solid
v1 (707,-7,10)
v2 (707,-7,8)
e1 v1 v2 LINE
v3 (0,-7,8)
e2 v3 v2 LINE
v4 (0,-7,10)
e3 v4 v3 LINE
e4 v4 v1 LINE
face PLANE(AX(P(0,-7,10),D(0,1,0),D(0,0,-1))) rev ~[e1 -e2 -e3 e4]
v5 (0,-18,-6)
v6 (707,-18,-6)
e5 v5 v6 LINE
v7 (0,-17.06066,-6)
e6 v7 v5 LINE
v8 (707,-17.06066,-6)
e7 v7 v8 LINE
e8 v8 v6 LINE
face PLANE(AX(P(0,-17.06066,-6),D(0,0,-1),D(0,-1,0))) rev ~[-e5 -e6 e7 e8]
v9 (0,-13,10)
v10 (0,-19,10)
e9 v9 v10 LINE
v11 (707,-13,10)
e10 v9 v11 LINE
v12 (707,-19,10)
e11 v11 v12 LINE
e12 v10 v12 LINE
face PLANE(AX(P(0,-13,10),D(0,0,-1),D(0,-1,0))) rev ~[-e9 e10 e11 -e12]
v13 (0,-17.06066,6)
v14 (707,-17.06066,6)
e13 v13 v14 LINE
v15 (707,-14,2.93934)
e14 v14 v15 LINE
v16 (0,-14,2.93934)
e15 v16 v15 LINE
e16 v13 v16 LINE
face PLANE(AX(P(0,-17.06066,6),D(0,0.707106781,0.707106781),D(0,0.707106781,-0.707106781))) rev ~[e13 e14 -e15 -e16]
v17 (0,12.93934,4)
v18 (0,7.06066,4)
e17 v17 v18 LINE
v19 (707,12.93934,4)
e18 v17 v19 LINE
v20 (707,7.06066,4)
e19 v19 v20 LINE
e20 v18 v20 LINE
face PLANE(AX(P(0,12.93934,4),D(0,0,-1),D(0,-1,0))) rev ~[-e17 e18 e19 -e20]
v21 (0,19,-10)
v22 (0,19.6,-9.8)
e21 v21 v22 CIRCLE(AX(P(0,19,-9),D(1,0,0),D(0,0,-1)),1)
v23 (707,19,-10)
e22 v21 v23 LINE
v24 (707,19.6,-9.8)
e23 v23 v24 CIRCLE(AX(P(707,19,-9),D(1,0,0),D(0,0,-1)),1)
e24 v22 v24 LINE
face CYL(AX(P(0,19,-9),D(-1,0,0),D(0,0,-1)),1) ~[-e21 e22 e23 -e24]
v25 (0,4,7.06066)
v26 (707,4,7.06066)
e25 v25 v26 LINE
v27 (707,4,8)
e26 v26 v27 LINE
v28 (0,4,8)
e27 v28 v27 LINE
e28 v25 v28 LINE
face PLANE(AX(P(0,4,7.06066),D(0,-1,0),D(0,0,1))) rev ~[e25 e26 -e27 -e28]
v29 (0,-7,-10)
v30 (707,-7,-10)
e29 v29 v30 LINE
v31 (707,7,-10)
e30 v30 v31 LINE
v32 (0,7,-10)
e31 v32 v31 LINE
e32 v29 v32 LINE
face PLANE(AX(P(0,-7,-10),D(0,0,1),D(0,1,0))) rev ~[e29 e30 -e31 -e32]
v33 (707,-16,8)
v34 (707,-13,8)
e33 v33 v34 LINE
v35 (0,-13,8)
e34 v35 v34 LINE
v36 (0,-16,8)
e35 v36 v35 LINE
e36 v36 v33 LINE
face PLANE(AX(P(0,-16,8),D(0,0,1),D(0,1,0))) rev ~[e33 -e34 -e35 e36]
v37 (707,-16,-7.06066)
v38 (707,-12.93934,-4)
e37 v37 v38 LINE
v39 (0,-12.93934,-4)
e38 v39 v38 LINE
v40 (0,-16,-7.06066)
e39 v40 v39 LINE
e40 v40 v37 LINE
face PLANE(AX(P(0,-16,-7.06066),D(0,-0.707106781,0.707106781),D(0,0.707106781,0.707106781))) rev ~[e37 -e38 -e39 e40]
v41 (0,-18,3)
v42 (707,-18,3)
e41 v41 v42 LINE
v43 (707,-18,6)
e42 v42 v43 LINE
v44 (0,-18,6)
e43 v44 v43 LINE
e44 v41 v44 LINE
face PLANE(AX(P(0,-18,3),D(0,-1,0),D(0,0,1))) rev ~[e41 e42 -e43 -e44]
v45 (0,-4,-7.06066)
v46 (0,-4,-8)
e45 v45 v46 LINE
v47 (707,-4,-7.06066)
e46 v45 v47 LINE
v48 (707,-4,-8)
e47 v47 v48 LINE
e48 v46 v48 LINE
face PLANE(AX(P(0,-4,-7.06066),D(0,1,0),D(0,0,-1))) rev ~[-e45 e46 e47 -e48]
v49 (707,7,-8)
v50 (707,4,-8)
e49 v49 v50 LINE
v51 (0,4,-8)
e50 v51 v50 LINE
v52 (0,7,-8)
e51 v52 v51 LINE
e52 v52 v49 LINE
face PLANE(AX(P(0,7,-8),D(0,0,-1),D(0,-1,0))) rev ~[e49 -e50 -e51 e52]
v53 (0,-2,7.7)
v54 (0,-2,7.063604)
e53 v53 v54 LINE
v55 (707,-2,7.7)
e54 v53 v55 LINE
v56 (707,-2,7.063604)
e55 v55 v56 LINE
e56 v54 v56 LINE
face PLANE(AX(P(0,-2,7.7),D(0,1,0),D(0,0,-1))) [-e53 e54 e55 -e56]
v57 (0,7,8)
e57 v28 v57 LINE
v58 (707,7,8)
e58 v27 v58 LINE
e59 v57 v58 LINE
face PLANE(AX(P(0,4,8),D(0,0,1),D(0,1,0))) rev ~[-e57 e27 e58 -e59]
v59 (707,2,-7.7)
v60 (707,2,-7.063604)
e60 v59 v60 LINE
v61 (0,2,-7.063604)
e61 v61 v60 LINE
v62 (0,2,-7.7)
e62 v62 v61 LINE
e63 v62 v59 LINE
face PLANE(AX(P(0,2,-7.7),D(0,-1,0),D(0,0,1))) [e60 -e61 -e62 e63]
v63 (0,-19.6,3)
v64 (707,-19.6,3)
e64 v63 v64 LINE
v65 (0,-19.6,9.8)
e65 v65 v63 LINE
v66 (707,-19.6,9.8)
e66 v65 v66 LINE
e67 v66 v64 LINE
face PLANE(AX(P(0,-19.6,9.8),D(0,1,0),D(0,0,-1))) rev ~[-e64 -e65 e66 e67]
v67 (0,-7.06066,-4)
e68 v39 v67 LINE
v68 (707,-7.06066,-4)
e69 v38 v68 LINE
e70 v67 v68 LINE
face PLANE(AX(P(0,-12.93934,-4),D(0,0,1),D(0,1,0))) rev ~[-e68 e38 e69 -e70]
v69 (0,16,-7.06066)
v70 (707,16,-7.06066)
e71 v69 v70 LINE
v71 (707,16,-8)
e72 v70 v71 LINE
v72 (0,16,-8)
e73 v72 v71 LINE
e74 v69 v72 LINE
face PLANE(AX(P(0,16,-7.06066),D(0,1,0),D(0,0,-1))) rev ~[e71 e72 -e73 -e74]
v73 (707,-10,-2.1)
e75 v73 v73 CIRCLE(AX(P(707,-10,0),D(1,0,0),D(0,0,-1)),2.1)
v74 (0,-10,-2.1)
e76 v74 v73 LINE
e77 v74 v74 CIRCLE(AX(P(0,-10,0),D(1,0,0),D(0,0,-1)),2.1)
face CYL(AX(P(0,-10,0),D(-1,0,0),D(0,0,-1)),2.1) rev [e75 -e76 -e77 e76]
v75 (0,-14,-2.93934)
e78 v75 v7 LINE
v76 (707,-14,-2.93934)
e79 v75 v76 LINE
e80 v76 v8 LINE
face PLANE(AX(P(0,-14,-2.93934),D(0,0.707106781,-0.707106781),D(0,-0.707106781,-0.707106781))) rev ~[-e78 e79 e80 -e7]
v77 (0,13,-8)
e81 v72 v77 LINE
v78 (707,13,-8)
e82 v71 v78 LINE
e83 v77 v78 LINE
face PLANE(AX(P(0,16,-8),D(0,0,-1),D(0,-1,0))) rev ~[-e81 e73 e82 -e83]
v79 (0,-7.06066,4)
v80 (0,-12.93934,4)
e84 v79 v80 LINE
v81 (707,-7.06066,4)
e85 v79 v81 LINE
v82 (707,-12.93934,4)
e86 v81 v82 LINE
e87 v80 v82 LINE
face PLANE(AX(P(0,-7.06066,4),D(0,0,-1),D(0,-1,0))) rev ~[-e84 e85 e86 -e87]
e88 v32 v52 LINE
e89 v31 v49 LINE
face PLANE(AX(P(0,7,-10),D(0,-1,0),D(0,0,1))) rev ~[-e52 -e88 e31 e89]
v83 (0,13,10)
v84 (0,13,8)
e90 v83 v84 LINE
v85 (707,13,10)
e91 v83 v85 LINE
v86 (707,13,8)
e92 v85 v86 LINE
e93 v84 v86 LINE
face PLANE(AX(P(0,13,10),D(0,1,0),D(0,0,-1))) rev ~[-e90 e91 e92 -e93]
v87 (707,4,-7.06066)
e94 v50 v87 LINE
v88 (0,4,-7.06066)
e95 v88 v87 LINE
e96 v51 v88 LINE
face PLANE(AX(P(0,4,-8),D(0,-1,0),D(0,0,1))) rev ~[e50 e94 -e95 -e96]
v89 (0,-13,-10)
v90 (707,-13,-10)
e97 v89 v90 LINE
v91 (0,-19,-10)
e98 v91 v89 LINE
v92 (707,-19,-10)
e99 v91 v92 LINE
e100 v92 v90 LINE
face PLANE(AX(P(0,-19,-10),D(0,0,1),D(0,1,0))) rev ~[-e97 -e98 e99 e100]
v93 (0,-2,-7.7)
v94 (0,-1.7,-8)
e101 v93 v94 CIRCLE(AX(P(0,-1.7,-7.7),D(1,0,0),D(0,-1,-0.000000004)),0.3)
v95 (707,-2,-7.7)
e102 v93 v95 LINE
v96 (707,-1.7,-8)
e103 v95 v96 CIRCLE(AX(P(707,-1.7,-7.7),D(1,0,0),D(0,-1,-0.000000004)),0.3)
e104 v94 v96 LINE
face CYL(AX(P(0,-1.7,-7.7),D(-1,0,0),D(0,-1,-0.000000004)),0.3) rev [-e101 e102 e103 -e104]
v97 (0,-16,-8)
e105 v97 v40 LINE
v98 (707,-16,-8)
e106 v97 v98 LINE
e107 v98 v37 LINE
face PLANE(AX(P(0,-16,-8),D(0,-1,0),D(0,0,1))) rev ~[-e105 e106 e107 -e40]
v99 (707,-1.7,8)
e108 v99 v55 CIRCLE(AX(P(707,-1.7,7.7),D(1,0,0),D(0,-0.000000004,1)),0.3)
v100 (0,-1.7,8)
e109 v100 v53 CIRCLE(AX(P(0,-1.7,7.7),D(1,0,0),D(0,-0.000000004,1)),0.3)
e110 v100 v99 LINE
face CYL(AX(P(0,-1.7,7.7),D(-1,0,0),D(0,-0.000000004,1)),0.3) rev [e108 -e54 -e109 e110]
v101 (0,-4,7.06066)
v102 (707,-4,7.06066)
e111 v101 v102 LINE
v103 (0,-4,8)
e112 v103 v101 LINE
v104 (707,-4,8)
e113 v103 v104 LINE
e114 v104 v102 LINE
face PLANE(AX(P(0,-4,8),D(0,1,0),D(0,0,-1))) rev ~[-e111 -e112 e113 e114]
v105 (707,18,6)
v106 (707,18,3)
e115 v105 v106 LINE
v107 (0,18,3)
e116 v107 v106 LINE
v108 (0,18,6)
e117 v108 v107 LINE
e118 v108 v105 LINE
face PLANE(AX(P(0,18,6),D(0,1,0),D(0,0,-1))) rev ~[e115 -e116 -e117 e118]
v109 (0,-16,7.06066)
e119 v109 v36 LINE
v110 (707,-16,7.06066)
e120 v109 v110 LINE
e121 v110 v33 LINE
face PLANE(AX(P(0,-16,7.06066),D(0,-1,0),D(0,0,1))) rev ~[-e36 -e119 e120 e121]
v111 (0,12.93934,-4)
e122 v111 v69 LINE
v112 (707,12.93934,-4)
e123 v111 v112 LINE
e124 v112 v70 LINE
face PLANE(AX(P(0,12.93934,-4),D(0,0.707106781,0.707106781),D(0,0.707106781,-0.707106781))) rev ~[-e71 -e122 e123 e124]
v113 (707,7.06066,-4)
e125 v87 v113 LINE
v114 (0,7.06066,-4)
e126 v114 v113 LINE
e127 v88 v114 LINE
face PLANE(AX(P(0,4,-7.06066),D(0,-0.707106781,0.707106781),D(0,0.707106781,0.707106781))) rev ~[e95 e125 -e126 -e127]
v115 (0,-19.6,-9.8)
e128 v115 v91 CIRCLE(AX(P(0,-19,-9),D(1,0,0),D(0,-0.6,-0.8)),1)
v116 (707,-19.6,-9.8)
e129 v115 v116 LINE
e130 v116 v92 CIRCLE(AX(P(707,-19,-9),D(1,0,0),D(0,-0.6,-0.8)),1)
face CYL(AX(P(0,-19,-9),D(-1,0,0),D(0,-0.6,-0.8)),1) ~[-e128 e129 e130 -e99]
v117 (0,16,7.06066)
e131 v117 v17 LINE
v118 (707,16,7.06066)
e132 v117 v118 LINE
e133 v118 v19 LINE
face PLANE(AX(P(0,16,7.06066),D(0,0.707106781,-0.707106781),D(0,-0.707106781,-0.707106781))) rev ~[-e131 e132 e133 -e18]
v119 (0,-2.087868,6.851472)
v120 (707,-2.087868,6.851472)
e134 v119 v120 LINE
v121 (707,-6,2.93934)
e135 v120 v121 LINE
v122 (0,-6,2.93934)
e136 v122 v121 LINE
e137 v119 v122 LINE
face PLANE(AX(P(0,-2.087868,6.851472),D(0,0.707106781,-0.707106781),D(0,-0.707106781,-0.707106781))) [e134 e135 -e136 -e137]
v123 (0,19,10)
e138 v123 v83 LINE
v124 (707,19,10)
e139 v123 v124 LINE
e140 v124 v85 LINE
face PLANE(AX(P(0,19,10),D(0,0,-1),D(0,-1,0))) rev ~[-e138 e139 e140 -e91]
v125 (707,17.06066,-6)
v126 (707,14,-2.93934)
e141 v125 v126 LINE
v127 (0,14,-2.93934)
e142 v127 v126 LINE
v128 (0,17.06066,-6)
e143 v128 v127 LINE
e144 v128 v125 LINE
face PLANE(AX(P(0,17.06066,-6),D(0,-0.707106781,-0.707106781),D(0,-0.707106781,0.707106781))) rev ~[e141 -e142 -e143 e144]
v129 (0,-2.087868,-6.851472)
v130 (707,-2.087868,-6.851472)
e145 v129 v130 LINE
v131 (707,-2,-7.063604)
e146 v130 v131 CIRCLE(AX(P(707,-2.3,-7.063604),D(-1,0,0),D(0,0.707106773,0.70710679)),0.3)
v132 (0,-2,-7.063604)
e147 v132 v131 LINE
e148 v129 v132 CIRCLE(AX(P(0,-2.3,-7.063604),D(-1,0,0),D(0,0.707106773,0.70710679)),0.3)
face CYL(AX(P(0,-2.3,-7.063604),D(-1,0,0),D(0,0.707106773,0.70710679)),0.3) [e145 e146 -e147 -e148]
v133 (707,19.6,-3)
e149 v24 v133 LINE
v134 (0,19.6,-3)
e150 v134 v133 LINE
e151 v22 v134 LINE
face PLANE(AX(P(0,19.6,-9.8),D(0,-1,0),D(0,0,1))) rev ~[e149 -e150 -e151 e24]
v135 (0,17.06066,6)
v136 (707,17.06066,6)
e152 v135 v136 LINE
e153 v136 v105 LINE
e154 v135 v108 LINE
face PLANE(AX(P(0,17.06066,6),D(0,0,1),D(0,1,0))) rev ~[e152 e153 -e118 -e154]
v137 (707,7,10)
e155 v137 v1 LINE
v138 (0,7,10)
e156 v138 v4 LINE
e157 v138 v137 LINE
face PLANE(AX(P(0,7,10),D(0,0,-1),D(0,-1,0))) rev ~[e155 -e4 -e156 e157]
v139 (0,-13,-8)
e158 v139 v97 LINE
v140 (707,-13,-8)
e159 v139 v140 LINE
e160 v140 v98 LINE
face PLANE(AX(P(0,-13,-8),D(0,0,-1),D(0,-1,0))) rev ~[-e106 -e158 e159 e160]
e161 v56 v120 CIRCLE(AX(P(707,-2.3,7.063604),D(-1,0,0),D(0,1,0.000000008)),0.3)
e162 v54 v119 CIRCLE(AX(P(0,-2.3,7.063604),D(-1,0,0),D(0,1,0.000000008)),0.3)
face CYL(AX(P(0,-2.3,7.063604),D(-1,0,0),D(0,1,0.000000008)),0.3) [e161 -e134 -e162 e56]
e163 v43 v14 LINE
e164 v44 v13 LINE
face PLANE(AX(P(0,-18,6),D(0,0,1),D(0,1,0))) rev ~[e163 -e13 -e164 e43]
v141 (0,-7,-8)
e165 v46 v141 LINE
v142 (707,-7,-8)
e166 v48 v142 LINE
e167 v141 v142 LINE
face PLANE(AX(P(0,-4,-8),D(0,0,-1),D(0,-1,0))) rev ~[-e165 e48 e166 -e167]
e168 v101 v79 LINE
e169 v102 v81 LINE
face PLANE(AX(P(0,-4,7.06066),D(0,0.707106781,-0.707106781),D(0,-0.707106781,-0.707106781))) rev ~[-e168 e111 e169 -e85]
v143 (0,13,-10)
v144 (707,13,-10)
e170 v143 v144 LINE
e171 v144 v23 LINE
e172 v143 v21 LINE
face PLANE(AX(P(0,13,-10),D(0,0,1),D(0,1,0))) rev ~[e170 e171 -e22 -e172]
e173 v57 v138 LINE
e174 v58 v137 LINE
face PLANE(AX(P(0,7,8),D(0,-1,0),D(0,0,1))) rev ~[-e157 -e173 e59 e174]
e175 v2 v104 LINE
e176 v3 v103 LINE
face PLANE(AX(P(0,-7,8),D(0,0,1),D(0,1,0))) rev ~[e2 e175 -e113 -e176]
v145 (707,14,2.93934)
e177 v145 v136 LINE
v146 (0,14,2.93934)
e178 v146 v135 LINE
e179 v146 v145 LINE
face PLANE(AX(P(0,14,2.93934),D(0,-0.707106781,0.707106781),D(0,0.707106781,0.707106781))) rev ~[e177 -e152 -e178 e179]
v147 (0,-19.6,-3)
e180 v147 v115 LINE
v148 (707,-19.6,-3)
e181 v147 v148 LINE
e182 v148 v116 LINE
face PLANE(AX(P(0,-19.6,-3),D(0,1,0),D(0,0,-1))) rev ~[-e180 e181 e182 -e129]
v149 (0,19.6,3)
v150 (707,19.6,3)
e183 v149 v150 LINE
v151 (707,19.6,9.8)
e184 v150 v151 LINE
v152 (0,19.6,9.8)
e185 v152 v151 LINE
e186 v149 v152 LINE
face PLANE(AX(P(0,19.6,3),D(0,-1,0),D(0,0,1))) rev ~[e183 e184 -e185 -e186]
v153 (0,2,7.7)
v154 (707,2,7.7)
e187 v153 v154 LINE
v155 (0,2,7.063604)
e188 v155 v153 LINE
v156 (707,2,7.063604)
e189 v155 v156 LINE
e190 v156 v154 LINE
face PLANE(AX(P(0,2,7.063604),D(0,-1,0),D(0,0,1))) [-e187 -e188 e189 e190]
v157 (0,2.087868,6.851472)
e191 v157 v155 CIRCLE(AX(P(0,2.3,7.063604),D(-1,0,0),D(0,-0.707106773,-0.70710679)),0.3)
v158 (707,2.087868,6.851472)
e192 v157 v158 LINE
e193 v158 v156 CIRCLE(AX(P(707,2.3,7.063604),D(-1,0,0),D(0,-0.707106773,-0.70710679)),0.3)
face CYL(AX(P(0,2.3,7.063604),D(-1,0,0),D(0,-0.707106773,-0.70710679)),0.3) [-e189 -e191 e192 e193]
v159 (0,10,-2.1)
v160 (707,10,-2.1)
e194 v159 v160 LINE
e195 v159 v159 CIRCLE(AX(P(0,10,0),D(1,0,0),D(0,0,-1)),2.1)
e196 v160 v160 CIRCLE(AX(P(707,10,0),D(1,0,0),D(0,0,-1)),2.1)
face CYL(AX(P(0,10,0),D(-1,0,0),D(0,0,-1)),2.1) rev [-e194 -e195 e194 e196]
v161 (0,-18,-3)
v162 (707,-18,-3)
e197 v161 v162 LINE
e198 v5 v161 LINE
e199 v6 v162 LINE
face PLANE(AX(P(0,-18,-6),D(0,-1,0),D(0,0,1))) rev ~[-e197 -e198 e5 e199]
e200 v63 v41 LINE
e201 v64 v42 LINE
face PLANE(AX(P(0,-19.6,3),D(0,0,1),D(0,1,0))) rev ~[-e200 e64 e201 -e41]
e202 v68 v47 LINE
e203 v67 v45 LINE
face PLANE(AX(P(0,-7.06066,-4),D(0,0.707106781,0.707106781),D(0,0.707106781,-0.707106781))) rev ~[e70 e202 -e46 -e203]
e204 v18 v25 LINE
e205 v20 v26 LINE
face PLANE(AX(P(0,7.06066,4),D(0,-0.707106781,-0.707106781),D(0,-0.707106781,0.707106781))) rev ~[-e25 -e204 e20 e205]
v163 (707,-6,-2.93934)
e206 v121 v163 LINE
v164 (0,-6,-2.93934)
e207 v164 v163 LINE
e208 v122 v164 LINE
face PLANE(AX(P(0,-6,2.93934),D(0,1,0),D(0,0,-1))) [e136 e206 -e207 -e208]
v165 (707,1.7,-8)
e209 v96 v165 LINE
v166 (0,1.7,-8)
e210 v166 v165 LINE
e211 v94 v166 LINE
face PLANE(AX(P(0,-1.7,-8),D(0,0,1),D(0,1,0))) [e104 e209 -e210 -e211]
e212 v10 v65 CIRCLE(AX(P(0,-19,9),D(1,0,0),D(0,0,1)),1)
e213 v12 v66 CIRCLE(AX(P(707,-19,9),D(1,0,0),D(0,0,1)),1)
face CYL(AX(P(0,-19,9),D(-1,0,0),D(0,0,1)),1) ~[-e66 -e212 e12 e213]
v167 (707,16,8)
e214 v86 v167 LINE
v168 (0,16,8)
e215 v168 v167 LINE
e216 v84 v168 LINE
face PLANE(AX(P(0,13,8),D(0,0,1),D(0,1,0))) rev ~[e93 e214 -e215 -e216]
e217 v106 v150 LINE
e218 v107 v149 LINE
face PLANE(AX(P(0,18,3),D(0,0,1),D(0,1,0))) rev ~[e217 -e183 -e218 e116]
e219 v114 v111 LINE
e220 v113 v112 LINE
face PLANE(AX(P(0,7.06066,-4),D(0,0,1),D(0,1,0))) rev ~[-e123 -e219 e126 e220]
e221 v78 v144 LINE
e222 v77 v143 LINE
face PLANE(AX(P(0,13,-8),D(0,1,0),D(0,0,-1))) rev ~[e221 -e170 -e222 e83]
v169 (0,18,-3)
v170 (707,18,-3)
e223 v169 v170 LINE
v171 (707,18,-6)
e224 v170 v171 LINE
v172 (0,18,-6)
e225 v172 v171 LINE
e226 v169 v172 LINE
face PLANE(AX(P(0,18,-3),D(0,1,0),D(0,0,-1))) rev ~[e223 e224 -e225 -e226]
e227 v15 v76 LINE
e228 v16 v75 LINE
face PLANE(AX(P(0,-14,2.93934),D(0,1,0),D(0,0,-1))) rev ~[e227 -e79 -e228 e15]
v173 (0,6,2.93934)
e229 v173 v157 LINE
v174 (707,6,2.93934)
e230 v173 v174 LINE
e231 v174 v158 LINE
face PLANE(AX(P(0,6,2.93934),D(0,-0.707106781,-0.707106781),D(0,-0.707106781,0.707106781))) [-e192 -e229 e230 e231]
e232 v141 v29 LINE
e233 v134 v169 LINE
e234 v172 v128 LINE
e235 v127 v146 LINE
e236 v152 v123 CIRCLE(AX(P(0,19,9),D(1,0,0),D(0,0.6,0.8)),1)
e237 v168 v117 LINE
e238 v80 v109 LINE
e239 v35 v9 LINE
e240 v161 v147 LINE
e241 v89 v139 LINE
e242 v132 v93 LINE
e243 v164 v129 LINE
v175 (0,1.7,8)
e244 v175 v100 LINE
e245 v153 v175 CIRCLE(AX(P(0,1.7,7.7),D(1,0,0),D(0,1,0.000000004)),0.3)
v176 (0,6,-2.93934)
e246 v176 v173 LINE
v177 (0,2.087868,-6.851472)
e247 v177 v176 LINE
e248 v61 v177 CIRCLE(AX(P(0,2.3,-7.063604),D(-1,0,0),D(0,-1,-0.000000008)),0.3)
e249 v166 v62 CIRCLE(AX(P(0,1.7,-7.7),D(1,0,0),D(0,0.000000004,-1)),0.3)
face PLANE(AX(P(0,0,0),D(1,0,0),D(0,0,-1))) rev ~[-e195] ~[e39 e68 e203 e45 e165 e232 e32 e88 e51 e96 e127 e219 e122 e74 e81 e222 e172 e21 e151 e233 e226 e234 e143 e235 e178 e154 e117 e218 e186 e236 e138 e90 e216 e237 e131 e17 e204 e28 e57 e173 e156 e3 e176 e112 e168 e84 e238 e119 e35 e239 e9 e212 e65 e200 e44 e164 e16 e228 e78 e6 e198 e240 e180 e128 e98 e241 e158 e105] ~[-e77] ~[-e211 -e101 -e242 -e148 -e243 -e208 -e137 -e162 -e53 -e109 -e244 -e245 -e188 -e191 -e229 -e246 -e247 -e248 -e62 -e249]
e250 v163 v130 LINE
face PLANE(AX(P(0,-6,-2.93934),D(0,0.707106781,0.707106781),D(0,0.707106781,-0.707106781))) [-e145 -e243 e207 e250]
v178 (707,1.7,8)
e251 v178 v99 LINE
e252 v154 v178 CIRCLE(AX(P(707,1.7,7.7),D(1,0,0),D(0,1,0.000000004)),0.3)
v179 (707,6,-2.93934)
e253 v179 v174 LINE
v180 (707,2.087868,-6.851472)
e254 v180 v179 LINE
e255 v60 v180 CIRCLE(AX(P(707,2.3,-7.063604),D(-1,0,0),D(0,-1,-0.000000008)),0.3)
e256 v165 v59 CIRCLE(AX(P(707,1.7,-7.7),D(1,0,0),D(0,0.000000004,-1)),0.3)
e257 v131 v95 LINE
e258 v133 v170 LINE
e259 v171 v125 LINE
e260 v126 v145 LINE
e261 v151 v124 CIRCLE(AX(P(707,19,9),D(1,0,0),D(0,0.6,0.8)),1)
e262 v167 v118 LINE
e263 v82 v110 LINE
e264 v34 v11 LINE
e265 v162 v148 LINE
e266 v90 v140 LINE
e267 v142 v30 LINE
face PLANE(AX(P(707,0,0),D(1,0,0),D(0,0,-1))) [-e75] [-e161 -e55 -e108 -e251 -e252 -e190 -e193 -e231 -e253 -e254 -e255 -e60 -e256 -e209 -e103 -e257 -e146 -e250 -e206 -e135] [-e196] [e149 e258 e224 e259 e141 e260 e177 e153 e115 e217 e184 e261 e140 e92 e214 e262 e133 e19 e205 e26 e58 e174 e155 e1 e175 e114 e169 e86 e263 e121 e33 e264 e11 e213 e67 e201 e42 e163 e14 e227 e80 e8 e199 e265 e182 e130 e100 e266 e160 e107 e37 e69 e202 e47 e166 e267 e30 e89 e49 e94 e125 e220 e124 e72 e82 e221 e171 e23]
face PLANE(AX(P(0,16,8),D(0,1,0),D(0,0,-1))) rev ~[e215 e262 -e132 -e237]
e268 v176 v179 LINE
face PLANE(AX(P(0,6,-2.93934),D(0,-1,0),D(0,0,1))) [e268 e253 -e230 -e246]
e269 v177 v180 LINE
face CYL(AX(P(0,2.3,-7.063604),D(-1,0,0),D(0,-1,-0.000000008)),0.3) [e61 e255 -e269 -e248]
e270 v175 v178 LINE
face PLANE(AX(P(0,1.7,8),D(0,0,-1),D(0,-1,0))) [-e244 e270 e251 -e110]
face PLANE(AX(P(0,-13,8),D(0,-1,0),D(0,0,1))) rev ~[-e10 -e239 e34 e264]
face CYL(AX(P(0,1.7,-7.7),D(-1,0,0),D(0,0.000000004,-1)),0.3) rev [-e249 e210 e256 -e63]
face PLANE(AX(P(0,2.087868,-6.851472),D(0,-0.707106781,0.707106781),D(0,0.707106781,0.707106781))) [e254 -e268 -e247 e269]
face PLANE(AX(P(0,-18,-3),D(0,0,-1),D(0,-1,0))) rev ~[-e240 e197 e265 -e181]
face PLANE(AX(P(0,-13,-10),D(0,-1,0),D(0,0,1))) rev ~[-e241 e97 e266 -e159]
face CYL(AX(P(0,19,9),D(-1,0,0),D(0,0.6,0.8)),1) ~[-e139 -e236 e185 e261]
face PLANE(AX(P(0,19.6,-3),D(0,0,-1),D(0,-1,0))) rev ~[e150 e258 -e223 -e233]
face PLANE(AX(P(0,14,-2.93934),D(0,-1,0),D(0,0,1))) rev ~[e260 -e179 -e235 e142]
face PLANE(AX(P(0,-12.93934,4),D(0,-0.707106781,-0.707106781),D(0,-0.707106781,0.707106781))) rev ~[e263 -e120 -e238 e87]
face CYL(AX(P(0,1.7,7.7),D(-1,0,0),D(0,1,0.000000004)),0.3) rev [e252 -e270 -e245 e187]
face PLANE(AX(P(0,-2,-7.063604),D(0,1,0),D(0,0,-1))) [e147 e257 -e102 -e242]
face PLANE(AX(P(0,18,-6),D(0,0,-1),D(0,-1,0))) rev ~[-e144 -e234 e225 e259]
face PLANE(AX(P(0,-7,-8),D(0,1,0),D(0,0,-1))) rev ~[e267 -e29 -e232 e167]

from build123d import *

# Parameters (mm, degrees)
SKETCH1_R           = 2.1
BOSS_EXTRUDE1_DEPTH = 707


with BuildPart() as part:
    # Sketch1 → Boss-Extrude1 (new body)
    with BuildSketch(Plane(origin=(0, 0, 0), x_dir=(0, 0, -1), z_dir=(1, 0, 0))):
        with BuildLine():
            Line((-10, 7), (-10, -7))
            Line((-10, -7), (-8, -7))
            Line((-8, -7), (-8, -4))
            Line((-8, -4), (-7.060660172, -4))
            Line((-7.060660172, -4), (-4, -7.060660172))
            Line((-4, -7.060660172), (-4, -12.939339828))
            Line((-4, -12.939339828), (-7.060660172, -16))
            Line((-7.060660172, -16), (-8, -16))
            Line((-8, -16), (-8, -13))
            Line((-8, -13), (-10, -13))
            Line((-10, -13), (-10, -19))
            ThreePointArc((-10, -19), (-9.948683298, -19.316227766), (-9.8, -19.6))
            Line((-9.8, -19.6), (-3, -19.6))
            Line((-3, -19.6), (-3, -18))
            Line((-3, -18), (-6, -18))
            Line((-6, -18), (-6, -17.060660172))
            Line((-6, -17.060660172), (-2.939339828, -14))
            Line((-2.939339828, -14), (2.939339828, -14))
            Line((2.939339828, -14), (6, -17.060660172))
            Line((6, -17.060660172), (6, -18))
            Line((6, -18), (3, -18))
            Line((3, -18), (3, -19.6))
            Line((3, -19.6), (9.8, -19.6))
            ThreePointArc((9.8, -19.6), (9.948683298, -19.316227766), (10, -19))
            Line((10, -19), (10, -13))
            Line((10, -13), (8, -13))
            Line((8, -13), (8, -16))
            Line((8, -16), (7.060660172, -16))
            Line((7.060660172, -16), (4, -12.939339828))
            Line((4, -12.939339828), (4, -7.060660172))
            Line((4, -7.060660172), (7.060660172, -4))
            Line((7.060660172, -4), (8, -4))
            Line((8, -4), (8, -7))
            Line((8, -7), (10, -7))
            Line((10, -7), (10, 7))
            Line((10, 7), (8, 7))
            Line((8, 7), (8, 4))
            Line((8, 4), (7.060660172, 4))
            Line((7.060660172, 4), (4, 7.060660172))
            Line((4, 7.060660172), (4, 12.939339828))
            Line((4, 12.939339828), (7.060660172, 16))
            Line((7.060660172, 16), (8, 16))
            Line((8, 16), (8, 13))
            Line((8, 13), (10, 13))
            Line((10, 13), (10, 19))
            ThreePointArc((10, 19), (9.948683298, 19.316227766), (9.8, 19.6))
            Line((9.8, 19.6), (3, 19.6))
            Line((3, 19.6), (3, 18))
            Line((3, 18), (6, 18))
            Line((6, 18), (6, 17.060660172))
            Line((6, 17.060660172), (2.939339828, 14))
            Line((2.939339828, 14), (-2.939339828, 14))
            Line((-2.939339828, 14), (-6, 17.060660172))
            Line((-6, 17.060660172), (-6, 18))
            Line((-6, 18), (-3, 18))
            Line((-3, 18), (-3, 19.6))
            Line((-3, 19.6), (-9.8, 19.6))
            ThreePointArc((-9.8, 19.6), (-9.948683298, 19.316227766), (-10, 19))
            Line((-10, 19), (-10, 13))
            Line((-10, 13), (-8, 13))
            Line((-8, 13), (-8, 16))
            Line((-8, 16), (-7.060660172, 16))
            Line((-7.060660172, 16), (-4, 12.939339828))
            Line((-4, 12.939339828), (-4, 7.060660172))
            Line((-4, 7.060660172), (-7.060660172, 4))
            Line((-7.060660172, 4), (-8, 4))
            Line((-8, 4), (-8, 7))
            Line((-8, 7), (-10, 7))
        make_face()
        with Locations((0, 10)):
            Circle(SKETCH1_R, mode=Mode.SUBTRACT)
        with Locations((0, -10)):
            Circle(SKETCH1_R, mode=Mode.SUBTRACT)
        with BuildLine():
            Line((-8, 1.7), (-8, -1.7))
            ThreePointArc((-8, -1.7), (-7.912132034, -1.912132034), (-7.7, -2))
            Line((-7.7, -2), (-7.063603897, -2))
            ThreePointArc((-7.063603897, -2), (-6.948798867, -2.02283614), (-6.851471863, -2.087867966))
            Line((-6.851471863, -2.087867966), (-2.939339828, -6))
            Line((-2.939339828, -6), (2.939339828, -6))
            Line((2.939339828, -6), (6.851471863, -2.087867966))
            ThreePointArc((6.851471863, -2.087867966), (6.948798867, -2.02283614), (7.063603897, -2))
            Line((7.063603897, -2), (7.7, -2))
            ThreePointArc((7.7, -2), (7.912132034, -1.912132034), (8, -1.7))
            Line((8, -1.7), (8, 1.7))
            ThreePointArc((8, 1.7), (7.912132034, 1.912132034), (7.7, 2))
            Line((7.7, 2), (7.063603897, 2))
            ThreePointArc((7.063603897, 2), (6.948798867, 2.02283614), (6.851471863, 2.087867966))
            Line((6.851471863, 2.087867966), (2.939339828, 6))
            Line((2.939339828, 6), (-2.939339828, 6))
            Line((-2.939339828, 6), (-6.851471863, 2.087867966))
            ThreePointArc((-6.851471863, 2.087867966), (-6.948798867, 2.02283614), (-7.063603897, 2))
            Line((-7.063603897, 2), (-7.7, 2))
            ThreePointArc((-7.7, 2), (-7.912132034, 1.912132034), (-8, 1.7))
        make_face(mode=Mode.SUBTRACT)
    extrude(amount=BOSS_EXTRUDE1_DEPTH)


solid = part.part
